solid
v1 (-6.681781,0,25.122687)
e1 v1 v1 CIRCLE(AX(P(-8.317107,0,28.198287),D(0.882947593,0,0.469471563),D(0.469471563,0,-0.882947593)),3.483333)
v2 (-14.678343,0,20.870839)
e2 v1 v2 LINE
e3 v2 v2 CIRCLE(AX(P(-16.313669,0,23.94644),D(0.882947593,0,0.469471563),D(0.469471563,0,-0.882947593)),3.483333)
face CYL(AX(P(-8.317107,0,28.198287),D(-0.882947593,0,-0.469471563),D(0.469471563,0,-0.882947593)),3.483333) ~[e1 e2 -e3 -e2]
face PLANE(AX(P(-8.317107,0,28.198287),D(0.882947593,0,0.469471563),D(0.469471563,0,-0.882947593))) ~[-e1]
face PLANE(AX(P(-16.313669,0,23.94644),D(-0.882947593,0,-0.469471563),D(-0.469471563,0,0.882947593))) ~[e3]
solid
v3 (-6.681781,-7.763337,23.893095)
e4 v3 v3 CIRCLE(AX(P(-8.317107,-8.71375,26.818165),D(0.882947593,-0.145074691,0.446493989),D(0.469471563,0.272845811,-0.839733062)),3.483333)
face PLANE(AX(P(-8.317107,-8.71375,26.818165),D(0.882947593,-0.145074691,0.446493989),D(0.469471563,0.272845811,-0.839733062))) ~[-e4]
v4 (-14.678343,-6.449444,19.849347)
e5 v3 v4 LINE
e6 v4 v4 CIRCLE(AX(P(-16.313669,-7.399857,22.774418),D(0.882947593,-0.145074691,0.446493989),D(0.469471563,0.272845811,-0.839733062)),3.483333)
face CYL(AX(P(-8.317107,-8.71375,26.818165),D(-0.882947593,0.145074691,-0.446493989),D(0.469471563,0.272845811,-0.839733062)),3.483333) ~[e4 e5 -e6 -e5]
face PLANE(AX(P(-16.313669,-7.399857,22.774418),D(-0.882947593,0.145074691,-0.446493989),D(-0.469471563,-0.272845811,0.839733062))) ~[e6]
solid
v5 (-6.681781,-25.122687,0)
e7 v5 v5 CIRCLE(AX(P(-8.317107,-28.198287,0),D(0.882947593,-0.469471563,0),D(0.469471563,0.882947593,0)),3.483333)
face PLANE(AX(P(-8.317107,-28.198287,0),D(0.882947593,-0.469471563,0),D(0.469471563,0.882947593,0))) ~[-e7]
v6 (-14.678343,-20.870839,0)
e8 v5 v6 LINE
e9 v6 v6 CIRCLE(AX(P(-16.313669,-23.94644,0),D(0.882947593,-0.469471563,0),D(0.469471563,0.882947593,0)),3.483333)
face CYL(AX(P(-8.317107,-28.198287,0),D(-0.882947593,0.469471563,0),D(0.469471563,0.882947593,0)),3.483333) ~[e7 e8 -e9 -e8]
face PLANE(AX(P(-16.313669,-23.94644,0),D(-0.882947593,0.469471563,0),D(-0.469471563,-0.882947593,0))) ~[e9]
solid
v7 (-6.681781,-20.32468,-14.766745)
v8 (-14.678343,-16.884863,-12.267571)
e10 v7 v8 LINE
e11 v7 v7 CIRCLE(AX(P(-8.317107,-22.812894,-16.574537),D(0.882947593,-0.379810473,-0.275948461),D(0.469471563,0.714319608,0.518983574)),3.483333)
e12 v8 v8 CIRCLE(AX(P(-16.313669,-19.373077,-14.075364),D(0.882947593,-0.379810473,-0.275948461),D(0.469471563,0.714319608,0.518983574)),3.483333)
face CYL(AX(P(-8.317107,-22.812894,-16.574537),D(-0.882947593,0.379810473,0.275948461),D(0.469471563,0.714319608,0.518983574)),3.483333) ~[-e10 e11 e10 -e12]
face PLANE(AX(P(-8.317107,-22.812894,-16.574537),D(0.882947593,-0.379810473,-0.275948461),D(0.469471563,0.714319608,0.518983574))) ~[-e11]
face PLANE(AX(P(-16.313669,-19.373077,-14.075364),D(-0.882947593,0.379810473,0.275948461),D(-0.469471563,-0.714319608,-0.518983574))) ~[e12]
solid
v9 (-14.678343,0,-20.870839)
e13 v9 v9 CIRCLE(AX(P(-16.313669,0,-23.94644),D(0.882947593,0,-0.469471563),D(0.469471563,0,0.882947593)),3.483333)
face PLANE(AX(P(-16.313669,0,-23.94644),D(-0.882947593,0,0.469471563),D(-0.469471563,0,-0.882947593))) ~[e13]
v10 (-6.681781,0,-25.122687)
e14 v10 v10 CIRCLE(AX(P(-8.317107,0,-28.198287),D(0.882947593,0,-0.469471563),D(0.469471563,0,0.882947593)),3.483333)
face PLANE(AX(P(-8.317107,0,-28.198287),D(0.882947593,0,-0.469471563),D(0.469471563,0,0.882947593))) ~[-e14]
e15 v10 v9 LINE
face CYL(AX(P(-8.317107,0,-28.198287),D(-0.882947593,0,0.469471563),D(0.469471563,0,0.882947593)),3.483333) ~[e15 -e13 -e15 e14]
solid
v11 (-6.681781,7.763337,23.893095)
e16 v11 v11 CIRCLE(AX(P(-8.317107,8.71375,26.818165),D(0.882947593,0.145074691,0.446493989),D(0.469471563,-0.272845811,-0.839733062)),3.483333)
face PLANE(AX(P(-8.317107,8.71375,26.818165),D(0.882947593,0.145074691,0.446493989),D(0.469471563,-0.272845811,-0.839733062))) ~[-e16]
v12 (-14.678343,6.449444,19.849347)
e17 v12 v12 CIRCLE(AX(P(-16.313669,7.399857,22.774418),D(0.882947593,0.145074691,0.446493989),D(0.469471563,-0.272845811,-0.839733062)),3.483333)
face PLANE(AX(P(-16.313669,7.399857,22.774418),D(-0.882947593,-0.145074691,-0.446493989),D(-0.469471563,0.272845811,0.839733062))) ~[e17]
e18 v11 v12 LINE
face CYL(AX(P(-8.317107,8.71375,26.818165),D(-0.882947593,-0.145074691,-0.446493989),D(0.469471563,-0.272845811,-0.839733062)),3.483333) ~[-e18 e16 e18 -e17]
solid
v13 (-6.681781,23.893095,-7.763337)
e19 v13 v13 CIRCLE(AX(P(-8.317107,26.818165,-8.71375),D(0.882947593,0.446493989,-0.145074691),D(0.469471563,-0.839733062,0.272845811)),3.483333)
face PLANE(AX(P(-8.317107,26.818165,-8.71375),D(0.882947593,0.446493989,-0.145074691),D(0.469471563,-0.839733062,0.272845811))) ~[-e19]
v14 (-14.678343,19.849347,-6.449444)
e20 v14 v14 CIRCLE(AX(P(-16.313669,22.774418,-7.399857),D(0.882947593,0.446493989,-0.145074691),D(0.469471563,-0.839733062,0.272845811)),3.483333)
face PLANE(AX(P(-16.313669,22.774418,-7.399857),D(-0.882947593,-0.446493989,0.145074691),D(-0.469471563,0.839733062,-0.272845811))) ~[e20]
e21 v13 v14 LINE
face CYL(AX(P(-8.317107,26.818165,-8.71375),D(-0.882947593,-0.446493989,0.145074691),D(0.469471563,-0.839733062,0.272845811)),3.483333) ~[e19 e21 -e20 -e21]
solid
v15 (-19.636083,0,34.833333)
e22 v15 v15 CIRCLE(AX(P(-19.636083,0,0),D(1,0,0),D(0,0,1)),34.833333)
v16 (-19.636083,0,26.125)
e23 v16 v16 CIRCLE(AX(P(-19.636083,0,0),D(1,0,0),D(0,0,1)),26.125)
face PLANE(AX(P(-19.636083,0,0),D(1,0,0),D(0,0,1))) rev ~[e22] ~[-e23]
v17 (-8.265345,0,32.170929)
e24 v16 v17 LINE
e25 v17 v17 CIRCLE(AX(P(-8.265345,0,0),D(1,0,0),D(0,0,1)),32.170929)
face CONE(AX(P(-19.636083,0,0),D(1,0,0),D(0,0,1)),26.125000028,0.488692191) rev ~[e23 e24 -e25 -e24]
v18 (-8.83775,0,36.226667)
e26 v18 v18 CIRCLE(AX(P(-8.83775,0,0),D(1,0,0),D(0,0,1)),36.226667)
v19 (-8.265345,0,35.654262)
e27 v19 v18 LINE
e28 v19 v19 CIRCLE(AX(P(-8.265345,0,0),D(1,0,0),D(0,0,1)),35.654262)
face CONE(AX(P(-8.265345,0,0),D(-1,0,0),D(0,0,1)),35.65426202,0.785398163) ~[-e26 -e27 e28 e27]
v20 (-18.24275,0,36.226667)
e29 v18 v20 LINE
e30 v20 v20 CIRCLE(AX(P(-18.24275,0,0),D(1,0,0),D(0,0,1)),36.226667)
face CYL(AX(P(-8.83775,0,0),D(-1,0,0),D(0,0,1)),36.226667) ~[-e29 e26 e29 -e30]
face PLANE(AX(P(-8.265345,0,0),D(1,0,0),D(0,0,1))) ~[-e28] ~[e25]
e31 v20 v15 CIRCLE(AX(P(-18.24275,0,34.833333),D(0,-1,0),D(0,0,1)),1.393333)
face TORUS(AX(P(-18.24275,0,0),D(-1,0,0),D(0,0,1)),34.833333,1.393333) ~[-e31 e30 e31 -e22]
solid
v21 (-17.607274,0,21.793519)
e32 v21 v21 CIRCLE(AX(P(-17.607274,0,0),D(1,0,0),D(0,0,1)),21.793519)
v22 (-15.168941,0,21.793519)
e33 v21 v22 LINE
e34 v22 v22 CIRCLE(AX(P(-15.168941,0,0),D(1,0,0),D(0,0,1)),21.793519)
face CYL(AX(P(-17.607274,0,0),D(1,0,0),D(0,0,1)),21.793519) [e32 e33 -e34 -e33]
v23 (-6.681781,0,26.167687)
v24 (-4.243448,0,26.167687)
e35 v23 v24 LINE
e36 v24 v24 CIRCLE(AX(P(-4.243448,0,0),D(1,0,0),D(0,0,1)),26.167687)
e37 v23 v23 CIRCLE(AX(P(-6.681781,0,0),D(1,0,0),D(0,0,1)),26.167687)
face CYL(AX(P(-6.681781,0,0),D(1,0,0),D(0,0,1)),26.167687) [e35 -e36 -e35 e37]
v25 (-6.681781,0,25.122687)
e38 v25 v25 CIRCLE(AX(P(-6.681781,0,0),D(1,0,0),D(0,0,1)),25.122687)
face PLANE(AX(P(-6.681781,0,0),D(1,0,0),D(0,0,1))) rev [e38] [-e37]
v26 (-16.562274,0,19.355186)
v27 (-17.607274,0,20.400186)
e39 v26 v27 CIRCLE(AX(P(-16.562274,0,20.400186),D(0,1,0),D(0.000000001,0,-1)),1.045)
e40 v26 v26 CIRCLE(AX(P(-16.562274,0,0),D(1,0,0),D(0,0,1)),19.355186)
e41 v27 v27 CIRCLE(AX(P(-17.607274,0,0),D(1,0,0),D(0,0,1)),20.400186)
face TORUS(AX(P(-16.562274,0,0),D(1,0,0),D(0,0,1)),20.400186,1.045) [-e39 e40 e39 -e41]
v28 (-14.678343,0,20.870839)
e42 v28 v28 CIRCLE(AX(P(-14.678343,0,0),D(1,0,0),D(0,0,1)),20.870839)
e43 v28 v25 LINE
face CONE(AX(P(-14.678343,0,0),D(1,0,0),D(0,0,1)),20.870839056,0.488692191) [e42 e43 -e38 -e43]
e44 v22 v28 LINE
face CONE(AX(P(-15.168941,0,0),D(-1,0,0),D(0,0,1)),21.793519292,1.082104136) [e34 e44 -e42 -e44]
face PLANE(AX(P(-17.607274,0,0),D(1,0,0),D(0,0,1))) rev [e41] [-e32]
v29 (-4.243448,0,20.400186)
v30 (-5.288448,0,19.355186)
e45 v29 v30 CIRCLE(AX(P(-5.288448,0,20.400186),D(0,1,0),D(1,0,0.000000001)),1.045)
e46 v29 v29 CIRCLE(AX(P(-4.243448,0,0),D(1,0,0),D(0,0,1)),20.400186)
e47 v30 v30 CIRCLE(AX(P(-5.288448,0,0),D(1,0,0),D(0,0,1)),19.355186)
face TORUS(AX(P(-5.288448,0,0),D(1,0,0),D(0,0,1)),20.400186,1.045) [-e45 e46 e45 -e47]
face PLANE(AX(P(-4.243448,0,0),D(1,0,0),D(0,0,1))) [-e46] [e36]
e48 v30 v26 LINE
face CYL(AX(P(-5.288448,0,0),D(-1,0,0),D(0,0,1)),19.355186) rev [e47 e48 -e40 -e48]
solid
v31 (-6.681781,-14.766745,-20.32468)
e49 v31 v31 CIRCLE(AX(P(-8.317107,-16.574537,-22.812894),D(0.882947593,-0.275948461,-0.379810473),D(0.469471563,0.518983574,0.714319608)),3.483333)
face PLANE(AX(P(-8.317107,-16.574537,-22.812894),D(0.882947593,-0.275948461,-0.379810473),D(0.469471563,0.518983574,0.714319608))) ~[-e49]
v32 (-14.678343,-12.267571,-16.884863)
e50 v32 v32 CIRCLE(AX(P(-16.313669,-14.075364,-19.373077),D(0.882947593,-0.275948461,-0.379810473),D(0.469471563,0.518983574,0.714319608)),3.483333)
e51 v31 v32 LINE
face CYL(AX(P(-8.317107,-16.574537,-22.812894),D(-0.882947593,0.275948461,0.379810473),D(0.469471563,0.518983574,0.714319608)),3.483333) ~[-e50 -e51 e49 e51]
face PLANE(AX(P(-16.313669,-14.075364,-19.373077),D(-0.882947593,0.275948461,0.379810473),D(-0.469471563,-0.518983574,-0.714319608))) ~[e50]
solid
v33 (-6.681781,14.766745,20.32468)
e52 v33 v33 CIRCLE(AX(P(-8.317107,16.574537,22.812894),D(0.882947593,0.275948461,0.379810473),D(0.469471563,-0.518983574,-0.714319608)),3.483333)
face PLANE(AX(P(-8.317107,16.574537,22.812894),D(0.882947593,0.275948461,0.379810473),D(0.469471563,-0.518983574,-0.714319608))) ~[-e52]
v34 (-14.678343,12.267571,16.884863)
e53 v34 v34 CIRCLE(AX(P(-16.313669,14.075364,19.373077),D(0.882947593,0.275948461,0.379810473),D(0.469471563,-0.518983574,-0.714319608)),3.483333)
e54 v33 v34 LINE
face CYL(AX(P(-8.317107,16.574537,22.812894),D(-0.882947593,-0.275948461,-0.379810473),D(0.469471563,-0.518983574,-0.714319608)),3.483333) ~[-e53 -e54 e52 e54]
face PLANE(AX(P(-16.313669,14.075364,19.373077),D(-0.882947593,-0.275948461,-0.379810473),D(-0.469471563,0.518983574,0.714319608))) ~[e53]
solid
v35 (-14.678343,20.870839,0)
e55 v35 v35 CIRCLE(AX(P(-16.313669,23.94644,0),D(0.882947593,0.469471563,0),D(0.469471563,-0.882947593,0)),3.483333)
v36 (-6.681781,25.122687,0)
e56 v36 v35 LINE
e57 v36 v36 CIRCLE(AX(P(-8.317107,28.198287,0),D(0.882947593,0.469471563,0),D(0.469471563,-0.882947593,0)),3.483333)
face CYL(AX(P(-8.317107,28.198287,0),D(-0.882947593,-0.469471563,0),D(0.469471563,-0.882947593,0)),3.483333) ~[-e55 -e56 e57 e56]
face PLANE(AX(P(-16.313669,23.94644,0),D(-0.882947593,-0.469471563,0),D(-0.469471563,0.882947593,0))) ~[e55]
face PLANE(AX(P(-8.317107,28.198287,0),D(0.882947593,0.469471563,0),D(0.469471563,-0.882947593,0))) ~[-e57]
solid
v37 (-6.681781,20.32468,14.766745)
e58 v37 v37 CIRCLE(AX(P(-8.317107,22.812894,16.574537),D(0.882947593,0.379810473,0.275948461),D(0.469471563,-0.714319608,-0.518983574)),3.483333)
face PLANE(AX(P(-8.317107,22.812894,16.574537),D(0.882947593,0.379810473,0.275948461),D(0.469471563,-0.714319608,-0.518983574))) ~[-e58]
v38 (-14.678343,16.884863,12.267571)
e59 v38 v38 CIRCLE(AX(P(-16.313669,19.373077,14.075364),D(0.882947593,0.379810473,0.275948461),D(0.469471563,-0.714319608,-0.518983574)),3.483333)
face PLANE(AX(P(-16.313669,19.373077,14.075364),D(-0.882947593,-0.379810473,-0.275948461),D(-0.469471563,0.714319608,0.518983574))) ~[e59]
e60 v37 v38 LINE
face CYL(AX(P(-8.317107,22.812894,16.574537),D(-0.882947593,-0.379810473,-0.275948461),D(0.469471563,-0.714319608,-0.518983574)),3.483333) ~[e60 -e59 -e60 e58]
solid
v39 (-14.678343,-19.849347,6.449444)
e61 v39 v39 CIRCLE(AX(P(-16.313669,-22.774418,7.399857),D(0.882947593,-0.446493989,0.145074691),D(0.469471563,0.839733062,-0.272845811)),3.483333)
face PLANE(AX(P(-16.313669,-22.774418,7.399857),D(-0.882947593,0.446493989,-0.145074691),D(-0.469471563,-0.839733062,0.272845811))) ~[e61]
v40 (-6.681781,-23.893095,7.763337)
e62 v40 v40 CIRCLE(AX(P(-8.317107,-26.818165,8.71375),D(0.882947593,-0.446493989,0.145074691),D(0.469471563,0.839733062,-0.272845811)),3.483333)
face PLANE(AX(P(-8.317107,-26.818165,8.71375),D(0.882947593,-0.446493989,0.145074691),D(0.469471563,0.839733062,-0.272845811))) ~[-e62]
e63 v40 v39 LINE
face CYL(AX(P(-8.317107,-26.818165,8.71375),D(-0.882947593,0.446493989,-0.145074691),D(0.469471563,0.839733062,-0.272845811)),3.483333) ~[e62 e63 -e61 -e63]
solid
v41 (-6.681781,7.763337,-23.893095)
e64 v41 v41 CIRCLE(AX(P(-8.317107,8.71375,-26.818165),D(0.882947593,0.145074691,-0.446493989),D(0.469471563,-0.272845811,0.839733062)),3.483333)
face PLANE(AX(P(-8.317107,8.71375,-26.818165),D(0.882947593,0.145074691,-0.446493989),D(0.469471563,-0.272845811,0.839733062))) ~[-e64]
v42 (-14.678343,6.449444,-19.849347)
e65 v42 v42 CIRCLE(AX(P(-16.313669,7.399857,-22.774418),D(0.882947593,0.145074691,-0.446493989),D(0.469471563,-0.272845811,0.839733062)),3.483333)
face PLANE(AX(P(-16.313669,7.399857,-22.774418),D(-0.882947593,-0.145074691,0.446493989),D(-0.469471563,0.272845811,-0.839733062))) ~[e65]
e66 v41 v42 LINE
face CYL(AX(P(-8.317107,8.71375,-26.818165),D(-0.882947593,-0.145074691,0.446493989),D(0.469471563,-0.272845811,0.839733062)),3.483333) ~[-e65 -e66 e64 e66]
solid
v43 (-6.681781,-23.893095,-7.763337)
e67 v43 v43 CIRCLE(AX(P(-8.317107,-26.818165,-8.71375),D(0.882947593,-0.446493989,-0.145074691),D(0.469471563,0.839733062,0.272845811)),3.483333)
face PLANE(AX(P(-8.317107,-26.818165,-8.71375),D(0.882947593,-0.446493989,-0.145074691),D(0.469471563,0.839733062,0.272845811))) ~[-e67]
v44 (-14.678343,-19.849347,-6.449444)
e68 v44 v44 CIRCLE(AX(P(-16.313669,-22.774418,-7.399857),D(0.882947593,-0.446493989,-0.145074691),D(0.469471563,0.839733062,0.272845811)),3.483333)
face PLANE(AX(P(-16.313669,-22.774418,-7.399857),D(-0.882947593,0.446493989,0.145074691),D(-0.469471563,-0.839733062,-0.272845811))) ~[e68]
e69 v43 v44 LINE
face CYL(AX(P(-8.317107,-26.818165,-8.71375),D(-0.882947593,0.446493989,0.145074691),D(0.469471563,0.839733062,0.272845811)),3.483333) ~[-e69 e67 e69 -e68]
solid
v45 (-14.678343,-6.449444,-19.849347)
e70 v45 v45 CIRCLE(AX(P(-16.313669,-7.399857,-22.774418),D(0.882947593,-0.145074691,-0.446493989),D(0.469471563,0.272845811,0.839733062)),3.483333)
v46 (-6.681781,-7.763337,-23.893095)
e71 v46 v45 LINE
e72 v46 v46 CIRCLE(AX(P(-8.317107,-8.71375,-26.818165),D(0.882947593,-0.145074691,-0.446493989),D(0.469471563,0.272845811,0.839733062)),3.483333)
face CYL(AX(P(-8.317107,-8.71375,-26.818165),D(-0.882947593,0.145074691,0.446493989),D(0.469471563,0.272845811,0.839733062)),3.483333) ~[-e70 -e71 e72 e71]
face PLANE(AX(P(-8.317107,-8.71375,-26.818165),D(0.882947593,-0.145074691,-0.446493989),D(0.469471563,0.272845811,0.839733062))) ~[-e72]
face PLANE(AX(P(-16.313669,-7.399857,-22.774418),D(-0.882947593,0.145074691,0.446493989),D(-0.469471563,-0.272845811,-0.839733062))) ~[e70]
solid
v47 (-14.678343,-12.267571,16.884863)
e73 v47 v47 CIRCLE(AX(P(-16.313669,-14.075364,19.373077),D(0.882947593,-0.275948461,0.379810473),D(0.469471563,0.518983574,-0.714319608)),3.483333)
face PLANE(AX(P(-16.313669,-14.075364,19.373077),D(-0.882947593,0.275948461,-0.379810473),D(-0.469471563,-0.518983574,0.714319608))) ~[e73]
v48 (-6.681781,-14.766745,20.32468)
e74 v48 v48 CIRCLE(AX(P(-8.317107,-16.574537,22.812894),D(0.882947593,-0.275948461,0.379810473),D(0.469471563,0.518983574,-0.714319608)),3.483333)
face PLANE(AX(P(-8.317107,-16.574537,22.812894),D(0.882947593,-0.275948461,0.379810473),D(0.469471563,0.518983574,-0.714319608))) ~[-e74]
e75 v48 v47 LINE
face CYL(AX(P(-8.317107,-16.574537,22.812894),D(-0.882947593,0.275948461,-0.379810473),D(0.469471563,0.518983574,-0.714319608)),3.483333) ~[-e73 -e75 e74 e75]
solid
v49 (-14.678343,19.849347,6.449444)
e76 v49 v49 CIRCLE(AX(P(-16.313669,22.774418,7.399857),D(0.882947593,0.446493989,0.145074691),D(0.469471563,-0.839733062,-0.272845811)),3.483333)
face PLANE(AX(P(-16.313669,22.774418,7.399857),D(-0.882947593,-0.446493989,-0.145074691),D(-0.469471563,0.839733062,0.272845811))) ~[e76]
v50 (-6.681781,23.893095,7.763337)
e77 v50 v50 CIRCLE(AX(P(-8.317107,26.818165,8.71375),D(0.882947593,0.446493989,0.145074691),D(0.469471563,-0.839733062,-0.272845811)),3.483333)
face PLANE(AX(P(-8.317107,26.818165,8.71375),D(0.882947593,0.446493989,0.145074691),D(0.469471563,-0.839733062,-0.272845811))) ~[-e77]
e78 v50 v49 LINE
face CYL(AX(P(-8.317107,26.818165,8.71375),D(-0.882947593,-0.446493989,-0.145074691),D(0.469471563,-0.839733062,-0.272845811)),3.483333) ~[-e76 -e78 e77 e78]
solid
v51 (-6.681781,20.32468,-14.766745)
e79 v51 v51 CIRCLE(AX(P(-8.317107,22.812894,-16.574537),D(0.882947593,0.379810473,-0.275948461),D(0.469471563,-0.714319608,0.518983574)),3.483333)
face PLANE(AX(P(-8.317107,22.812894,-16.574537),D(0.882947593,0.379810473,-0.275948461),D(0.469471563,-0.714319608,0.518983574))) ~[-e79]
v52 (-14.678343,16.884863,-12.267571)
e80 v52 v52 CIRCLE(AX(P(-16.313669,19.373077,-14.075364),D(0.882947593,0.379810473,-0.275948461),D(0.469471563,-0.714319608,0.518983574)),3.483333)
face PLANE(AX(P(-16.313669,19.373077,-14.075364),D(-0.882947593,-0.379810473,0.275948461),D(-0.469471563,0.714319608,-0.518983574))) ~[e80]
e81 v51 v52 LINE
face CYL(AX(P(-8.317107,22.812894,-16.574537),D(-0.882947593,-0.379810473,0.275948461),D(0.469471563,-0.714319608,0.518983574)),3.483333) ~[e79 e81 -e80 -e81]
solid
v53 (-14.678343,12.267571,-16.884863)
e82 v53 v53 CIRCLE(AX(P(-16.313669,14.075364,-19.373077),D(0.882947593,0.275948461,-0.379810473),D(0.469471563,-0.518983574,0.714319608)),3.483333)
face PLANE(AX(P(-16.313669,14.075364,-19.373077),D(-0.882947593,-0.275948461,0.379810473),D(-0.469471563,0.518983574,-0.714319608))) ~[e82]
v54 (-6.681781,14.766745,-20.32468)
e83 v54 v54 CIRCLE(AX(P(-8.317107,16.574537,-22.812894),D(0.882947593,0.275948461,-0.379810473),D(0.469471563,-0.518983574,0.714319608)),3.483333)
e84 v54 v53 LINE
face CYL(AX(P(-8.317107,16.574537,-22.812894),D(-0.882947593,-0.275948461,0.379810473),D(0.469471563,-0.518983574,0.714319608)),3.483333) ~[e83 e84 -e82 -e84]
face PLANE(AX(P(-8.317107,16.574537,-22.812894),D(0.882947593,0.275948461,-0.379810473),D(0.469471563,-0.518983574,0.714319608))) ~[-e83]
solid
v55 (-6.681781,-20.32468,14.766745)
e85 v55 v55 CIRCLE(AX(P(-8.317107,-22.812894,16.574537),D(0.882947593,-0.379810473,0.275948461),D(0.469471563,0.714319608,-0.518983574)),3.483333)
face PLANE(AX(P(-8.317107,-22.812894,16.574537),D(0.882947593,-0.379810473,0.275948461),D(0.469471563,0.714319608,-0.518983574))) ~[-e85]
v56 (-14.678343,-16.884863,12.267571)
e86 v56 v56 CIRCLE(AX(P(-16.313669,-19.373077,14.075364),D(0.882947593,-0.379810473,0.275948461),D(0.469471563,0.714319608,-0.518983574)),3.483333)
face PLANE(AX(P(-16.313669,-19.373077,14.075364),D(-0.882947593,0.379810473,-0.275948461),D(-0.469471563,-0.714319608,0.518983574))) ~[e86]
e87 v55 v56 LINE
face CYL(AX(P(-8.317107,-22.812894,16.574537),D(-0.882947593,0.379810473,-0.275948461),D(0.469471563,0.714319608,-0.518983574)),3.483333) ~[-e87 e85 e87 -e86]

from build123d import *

# Parameters (mm, degrees)
CIRPATTERN3_COUNT = 20
SCALE1_SCALE      = 0.316666667
SCALE3_SCALE      = 1.1


with BuildPart() as part:
    # Sketch1 → Revolve1 (revolve)
    with BuildSketch(Plane.XY, mode=Mode.PRIVATE) as revolve1_sk:
        with BuildLine():
            Line((-56.371530242, 75), (-23.728263205, 92.356732964))
            Line((-23.728263205, 92.356732964), (-23.728263205, 102.356732964))
            Line((-23.728263205, 102.356732964), (-25.371530242, 104))
            Line((-25.371530242, 104), (-52.371530242, 104))
            ThreePointArc((-52.371530242, 104), (-55.199957367, 102.828427125), (-56.371530242, 100))
            Line((-56.371530242, 100), (-56.371530242, 75))
        make_face()
    revolve(revolve1_sk.sketch.rotate(Axis((0, 0, 0), (1, 0, 0)), 90), axis=Axis((0, 0, 0), (1, 0, 0)))


with BuildPart() as body_2:
    # Sketch2 → Revolve2 (revolve)
    with BuildSketch(Plane.XY, mode=Mode.PRIVATE) as revolve2_sk:
        Polygon((-51.528215431, 77.575236166), (-46.833499803, 68.745760237), (-23.876862389, 80.952020869), (-28.571578016, 89.781496798), align=None)
    revolve(revolve2_sk.sketch.rotate(Axis((-46.833499803, 68.745760237, 0), (0.882947592858924, 0.46947156278589636, 0)), 180), axis=Axis((-46.833499803, 68.745760237, 0), (0.882947592858924, 0.46947156278589636, 0)))


with BuildPart() as body_3:
    # Sketch4 → Revolve6 (revolve)
    with BuildSketch(Plane.XY, mode=Mode.PRIVATE) as revolve6_sk:
        with BuildLine():
            Line((-43.547198863, 62.565127087), (-42.138784175, 59.916284308))
            Line((-42.138784175, 59.916284308), (-19.182146761, 72.122544941))
            Line((-19.182146761, 72.122544941), (-19.182146761, 75.122544941))
            Line((-19.182146761, 75.122544941), (-12.182146761, 75.122544941))
            Line((-12.182146761, 75.122544941), (-12.182146761, 58.565127087))
            ThreePointArc((-12.182146761, 58.565127087), (-13.060826417, 56.443806743), (-15.182146761, 55.565127087))
            Line((-15.182146761, 55.565127087), (-47.547198863, 55.565127087))
            ThreePointArc((-47.547198863, 55.565127087), (-49.668519207, 56.443806743), (-50.547198863, 58.565127087))
            Line((-50.547198863, 58.565127087), (-50.547198863, 62.565127087))
            Line((-50.547198863, 62.565127087), (-43.547198863, 62.565127087))
        make_face()
    revolve(revolve6_sk.sketch.rotate(Axis((0, 0, 0), (1, 0, 0)), 90), axis=Axis((0, 0, 0), (1, 0, 0)))


with BuildPart() as cirpattern3_1:
    # CirPattern3: pattern copy
    add(body_2.part.rotate(Axis((0, 0, 0), (1, 0, 0)), 1 * 360 / CIRPATTERN3_COUNT))


with BuildPart() as cirpattern3_2:
    # CirPattern3: pattern copy
    add(body_2.part.rotate(Axis((0, 0, 0), (1, 0, 0)), 2 * 360 / CIRPATTERN3_COUNT))


with BuildPart() as cirpattern3_3:
    # CirPattern3: pattern copy
    add(body_2.part.rotate(Axis((0, 0, 0), (1, 0, 0)), 3 * 360 / CIRPATTERN3_COUNT))


with BuildPart() as cirpattern3_4:
    # CirPattern3: pattern copy
    add(body_2.part.rotate(Axis((0, 0, 0), (1, 0, 0)), 4 * 360 / CIRPATTERN3_COUNT))


with BuildPart() as cirpattern3_5:
    # CirPattern3: pattern copy
    add(body_2.part.rotate(Axis((0, 0, 0), (1, 0, 0)), 5 * 360 / CIRPATTERN3_COUNT))


with BuildPart() as cirpattern3_6:
    # CirPattern3: pattern copy
    add(body_2.part.rotate(Axis((0, 0, 0), (1, 0, 0)), 6 * 360 / CIRPATTERN3_COUNT))


with BuildPart() as cirpattern3_7:
    # CirPattern3: pattern copy
    add(body_2.part.rotate(Axis((0, 0, 0), (1, 0, 0)), 7 * 360 / CIRPATTERN3_COUNT))


with BuildPart() as cirpattern3_8:
    # CirPattern3: pattern copy
    add(body_2.part.rotate(Axis((0, 0, 0), (1, 0, 0)), 8 * 360 / CIRPATTERN3_COUNT))


with BuildPart() as cirpattern3_9:
    # CirPattern3: pattern copy
    add(body_2.part.rotate(Axis((0, 0, 0), (1, 0, 0)), 9 * 360 / CIRPATTERN3_COUNT))


with BuildPart() as cirpattern3_10:
    # CirPattern3: pattern copy
    add(body_2.part.rotate(Axis((0, 0, 0), (1, 0, 0)), 10 * 360 / CIRPATTERN3_COUNT))


with BuildPart() as cirpattern3_11:
    # CirPattern3: pattern copy
    add(body_2.part.rotate(Axis((0, 0, 0), (1, 0, 0)), 11 * 360 / CIRPATTERN3_COUNT))


with BuildPart() as cirpattern3_12:
    # CirPattern3: pattern copy
    add(body_2.part.rotate(Axis((0, 0, 0), (1, 0, 0)), 12 * 360 / CIRPATTERN3_COUNT))


with BuildPart() as cirpattern3_13:
    # CirPattern3: pattern copy
    add(body_2.part.rotate(Axis((0, 0, 0), (1, 0, 0)), 13 * 360 / CIRPATTERN3_COUNT))


with BuildPart() as cirpattern3_14:
    # CirPattern3: pattern copy
    add(body_2.part.rotate(Axis((0, 0, 0), (1, 0, 0)), 14 * 360 / CIRPATTERN3_COUNT))


with BuildPart() as cirpattern3_15:
    # CirPattern3: pattern copy
    add(body_2.part.rotate(Axis((0, 0, 0), (1, 0, 0)), 15 * 360 / CIRPATTERN3_COUNT))


with BuildPart() as cirpattern3_16:
    # CirPattern3: pattern copy
    add(body_2.part.rotate(Axis((0, 0, 0), (1, 0, 0)), 16 * 360 / CIRPATTERN3_COUNT))


with BuildPart() as cirpattern3_17:
    # CirPattern3: pattern copy
    add(body_2.part.rotate(Axis((0, 0, 0), (1, 0, 0)), 17 * 360 / CIRPATTERN3_COUNT))


with BuildPart() as cirpattern3_18:
    # CirPattern3: pattern copy
    add(body_2.part.rotate(Axis((0, 0, 0), (1, 0, 0)), 18 * 360 / CIRPATTERN3_COUNT))


with BuildPart() as cirpattern3_19:
    # CirPattern3: pattern copy
    add(body_2.part.rotate(Axis((0, 0, 0), (1, 0, 0)), 19 * 360 / CIRPATTERN3_COUNT))


with BuildPart() as cirpattern3_17_1:
    # Scale1: scaled about (0, 0, 0)
    add(cirpattern3_17.part.scale(SCALE1_SCALE))


with BuildPart() as cirpattern3_19_1:
    # Scale1: scaled about (0, 0, 0)
    add(cirpattern3_19.part.scale(SCALE1_SCALE))


with BuildPart() as body_2_1:
    # Scale1: scaled about (0, 0, 0)
    add(body_2.part.scale(SCALE1_SCALE))


with BuildPart() as cirpattern3_1_1:
    # Scale1: scaled about (0, 0, 0)
    add(cirpattern3_1.part.scale(SCALE1_SCALE))


with BuildPart() as cirpattern3_2_1:
    # Scale1: scaled about (0, 0, 0)
    add(cirpattern3_2.part.scale(SCALE1_SCALE))


with BuildPart() as cirpattern3_3_1:
    # Scale1: scaled about (0, 0, 0)
    add(cirpattern3_3.part.scale(SCALE1_SCALE))


with BuildPart() as cirpattern3_4_1:
    # Scale1: scaled about (0, 0, 0)
    add(cirpattern3_4.part.scale(SCALE1_SCALE))


with BuildPart() as cirpattern3_5_1:
    # Scale1: scaled about (0, 0, 0)
    add(cirpattern3_5.part.scale(SCALE1_SCALE))


with BuildPart() as cirpattern3_6_1:
    # Scale1: scaled about (0, 0, 0)
    add(cirpattern3_6.part.scale(SCALE1_SCALE))


with BuildPart() as cirpattern3_7_1:
    # Scale1: scaled about (0, 0, 0)
    add(cirpattern3_7.part.scale(SCALE1_SCALE))


with BuildPart() as cirpattern3_8_1:
    # Scale1: scaled about (0, 0, 0)
    add(cirpattern3_8.part.scale(SCALE1_SCALE))


with BuildPart() as cirpattern3_9_1:
    # Scale1: scaled about (0, 0, 0)
    add(cirpattern3_9.part.scale(SCALE1_SCALE))


with BuildPart() as cirpattern3_10_1:
    # Scale1: scaled about (0, 0, 0)
    add(cirpattern3_10.part.scale(SCALE1_SCALE))


with BuildPart() as cirpattern3_11_1:
    # Scale1: scaled about (0, 0, 0)
    add(cirpattern3_11.part.scale(SCALE1_SCALE))


with BuildPart() as cirpattern3_12_1:
    # Scale1: scaled about (0, 0, 0)
    add(cirpattern3_12.part.scale(SCALE1_SCALE))


with BuildPart() as cirpattern3_13_1:
    # Scale1: scaled about (0, 0, 0)
    add(cirpattern3_13.part.scale(SCALE1_SCALE))


with BuildPart() as cirpattern3_14_1:
    # Scale1: scaled about (0, 0, 0)
    add(cirpattern3_14.part.scale(SCALE1_SCALE))


with BuildPart() as cirpattern3_15_1:
    # Scale1: scaled about (0, 0, 0)
    add(cirpattern3_15.part.scale(SCALE1_SCALE))


with BuildPart() as cirpattern3_16_1:
    # Scale1: scaled about (0, 0, 0)
    add(cirpattern3_16.part.scale(SCALE1_SCALE))


with BuildPart() as part_1:
    # Scale1: scaled about (0, 0, 0)
    add(part.part.scale(SCALE1_SCALE))


with BuildPart() as cirpattern3_18_1:
    # Scale1: scaled about (0, 0, 0)
    add(cirpattern3_18.part.scale(SCALE1_SCALE))


with BuildPart() as body_3_1:
    # Scale1: scaled about (0, 0, 0)
    add(body_3.part.scale(SCALE1_SCALE))


with BuildPart() as part_2:
    # Scale3: scaled about (0, 0, 0)
    add(part_1.part.scale(SCALE3_SCALE))


with BuildPart() as body_3_2:
    # Scale3: scaled about (0, 0, 0)
    add(body_3_1.part.scale(SCALE3_SCALE))


with BuildPart() as cirpattern3_11_2:
    # Scale3: scaled about (0, 0, 0)
    add(cirpattern3_11_1.part.scale(SCALE3_SCALE))


with BuildPart() as cirpattern3_10_2:
    # Scale3: scaled about (0, 0, 0)
    add(cirpattern3_10_1.part.scale(SCALE3_SCALE))


with BuildPart() as cirpattern3_9_2:
    # Scale3: scaled about (0, 0, 0)
    add(cirpattern3_9_1.part.scale(SCALE3_SCALE))


with BuildPart() as cirpattern3_8_2:
    # Scale3: scaled about (0, 0, 0)
    add(cirpattern3_8_1.part.scale(SCALE3_SCALE))


with BuildPart() as cirpattern3_12_2:
    # Scale3: scaled about (0, 0, 0)
    add(cirpattern3_12_1.part.scale(SCALE3_SCALE))


with BuildPart() as cirpattern3_13_2:
    # Scale3: scaled about (0, 0, 0)
    add(cirpattern3_13_1.part.scale(SCALE3_SCALE))


with BuildPart() as cirpattern3_14_2:
    # Scale3: scaled about (0, 0, 0)
    add(cirpattern3_14_1.part.scale(SCALE3_SCALE))


with BuildPart() as cirpattern3_15_2:
    # Scale3: scaled about (0, 0, 0)
    add(cirpattern3_15_1.part.scale(SCALE3_SCALE))


with BuildPart() as cirpattern3_16_2:
    # Scale3: scaled about (0, 0, 0)
    add(cirpattern3_16_1.part.scale(SCALE3_SCALE))


with BuildPart() as cirpattern3_17_2:
    # Scale3: scaled about (0, 0, 0)
    add(cirpattern3_17_1.part.scale(SCALE3_SCALE))


with BuildPart() as cirpattern3_18_2:
    # Scale3: scaled about (0, 0, 0)
    add(cirpattern3_18_1.part.scale(SCALE3_SCALE))


with BuildPart() as cirpattern3_19_2:
    # Scale3: scaled about (0, 0, 0)
    add(cirpattern3_19_1.part.scale(SCALE3_SCALE))


with BuildPart() as body_2_2:
    # Scale3: scaled about (0, 0, 0)
    add(body_2_1.part.scale(SCALE3_SCALE))


with BuildPart() as cirpattern3_1_2:
    # Scale3: scaled about (0, 0, 0)
    add(cirpattern3_1_1.part.scale(SCALE3_SCALE))


with BuildPart() as cirpattern3_2_2:
    # Scale3: scaled about (0, 0, 0)
    add(cirpattern3_2_1.part.scale(SCALE3_SCALE))


with BuildPart() as cirpattern3_3_2:
    # Scale3: scaled about (0, 0, 0)
    add(cirpattern3_3_1.part.scale(SCALE3_SCALE))


with BuildPart() as cirpattern3_4_2:
    # Scale3: scaled about (0, 0, 0)
    add(cirpattern3_4_1.part.scale(SCALE3_SCALE))


with BuildPart() as cirpattern3_5_2:
    # Scale3: scaled about (0, 0, 0)
    add(cirpattern3_5_1.part.scale(SCALE3_SCALE))


with BuildPart() as cirpattern3_6_2:
    # Scale3: scaled about (0, 0, 0)
    add(cirpattern3_6_1.part.scale(SCALE3_SCALE))


with BuildPart() as cirpattern3_7_2:
    # Scale3: scaled about (0, 0, 0)
    add(cirpattern3_7_1.part.scale(SCALE3_SCALE))


solid = Compound([part_2.part, body_3_2.part, cirpattern3_11_2.part, cirpattern3_10_2.part, cirpattern3_9_2.part, cirpattern3_8_2.part, cirpattern3_12_2.part, cirpattern3_13_2.part, cirpattern3_14_2.part, cirpattern3_15_2.part, cirpattern3_16_2.part, cirpattern3_17_2.part, cirpattern3_18_2.part, cirpattern3_19_2.part, body_2_2.part, cirpattern3_1_2.part, cirpattern3_2_2.part, cirpattern3_3_2.part, cirpattern3_4_2.part, cirpattern3_5_2.part, cirpattern3_6_2.part, cirpattern3_7_2.part])
